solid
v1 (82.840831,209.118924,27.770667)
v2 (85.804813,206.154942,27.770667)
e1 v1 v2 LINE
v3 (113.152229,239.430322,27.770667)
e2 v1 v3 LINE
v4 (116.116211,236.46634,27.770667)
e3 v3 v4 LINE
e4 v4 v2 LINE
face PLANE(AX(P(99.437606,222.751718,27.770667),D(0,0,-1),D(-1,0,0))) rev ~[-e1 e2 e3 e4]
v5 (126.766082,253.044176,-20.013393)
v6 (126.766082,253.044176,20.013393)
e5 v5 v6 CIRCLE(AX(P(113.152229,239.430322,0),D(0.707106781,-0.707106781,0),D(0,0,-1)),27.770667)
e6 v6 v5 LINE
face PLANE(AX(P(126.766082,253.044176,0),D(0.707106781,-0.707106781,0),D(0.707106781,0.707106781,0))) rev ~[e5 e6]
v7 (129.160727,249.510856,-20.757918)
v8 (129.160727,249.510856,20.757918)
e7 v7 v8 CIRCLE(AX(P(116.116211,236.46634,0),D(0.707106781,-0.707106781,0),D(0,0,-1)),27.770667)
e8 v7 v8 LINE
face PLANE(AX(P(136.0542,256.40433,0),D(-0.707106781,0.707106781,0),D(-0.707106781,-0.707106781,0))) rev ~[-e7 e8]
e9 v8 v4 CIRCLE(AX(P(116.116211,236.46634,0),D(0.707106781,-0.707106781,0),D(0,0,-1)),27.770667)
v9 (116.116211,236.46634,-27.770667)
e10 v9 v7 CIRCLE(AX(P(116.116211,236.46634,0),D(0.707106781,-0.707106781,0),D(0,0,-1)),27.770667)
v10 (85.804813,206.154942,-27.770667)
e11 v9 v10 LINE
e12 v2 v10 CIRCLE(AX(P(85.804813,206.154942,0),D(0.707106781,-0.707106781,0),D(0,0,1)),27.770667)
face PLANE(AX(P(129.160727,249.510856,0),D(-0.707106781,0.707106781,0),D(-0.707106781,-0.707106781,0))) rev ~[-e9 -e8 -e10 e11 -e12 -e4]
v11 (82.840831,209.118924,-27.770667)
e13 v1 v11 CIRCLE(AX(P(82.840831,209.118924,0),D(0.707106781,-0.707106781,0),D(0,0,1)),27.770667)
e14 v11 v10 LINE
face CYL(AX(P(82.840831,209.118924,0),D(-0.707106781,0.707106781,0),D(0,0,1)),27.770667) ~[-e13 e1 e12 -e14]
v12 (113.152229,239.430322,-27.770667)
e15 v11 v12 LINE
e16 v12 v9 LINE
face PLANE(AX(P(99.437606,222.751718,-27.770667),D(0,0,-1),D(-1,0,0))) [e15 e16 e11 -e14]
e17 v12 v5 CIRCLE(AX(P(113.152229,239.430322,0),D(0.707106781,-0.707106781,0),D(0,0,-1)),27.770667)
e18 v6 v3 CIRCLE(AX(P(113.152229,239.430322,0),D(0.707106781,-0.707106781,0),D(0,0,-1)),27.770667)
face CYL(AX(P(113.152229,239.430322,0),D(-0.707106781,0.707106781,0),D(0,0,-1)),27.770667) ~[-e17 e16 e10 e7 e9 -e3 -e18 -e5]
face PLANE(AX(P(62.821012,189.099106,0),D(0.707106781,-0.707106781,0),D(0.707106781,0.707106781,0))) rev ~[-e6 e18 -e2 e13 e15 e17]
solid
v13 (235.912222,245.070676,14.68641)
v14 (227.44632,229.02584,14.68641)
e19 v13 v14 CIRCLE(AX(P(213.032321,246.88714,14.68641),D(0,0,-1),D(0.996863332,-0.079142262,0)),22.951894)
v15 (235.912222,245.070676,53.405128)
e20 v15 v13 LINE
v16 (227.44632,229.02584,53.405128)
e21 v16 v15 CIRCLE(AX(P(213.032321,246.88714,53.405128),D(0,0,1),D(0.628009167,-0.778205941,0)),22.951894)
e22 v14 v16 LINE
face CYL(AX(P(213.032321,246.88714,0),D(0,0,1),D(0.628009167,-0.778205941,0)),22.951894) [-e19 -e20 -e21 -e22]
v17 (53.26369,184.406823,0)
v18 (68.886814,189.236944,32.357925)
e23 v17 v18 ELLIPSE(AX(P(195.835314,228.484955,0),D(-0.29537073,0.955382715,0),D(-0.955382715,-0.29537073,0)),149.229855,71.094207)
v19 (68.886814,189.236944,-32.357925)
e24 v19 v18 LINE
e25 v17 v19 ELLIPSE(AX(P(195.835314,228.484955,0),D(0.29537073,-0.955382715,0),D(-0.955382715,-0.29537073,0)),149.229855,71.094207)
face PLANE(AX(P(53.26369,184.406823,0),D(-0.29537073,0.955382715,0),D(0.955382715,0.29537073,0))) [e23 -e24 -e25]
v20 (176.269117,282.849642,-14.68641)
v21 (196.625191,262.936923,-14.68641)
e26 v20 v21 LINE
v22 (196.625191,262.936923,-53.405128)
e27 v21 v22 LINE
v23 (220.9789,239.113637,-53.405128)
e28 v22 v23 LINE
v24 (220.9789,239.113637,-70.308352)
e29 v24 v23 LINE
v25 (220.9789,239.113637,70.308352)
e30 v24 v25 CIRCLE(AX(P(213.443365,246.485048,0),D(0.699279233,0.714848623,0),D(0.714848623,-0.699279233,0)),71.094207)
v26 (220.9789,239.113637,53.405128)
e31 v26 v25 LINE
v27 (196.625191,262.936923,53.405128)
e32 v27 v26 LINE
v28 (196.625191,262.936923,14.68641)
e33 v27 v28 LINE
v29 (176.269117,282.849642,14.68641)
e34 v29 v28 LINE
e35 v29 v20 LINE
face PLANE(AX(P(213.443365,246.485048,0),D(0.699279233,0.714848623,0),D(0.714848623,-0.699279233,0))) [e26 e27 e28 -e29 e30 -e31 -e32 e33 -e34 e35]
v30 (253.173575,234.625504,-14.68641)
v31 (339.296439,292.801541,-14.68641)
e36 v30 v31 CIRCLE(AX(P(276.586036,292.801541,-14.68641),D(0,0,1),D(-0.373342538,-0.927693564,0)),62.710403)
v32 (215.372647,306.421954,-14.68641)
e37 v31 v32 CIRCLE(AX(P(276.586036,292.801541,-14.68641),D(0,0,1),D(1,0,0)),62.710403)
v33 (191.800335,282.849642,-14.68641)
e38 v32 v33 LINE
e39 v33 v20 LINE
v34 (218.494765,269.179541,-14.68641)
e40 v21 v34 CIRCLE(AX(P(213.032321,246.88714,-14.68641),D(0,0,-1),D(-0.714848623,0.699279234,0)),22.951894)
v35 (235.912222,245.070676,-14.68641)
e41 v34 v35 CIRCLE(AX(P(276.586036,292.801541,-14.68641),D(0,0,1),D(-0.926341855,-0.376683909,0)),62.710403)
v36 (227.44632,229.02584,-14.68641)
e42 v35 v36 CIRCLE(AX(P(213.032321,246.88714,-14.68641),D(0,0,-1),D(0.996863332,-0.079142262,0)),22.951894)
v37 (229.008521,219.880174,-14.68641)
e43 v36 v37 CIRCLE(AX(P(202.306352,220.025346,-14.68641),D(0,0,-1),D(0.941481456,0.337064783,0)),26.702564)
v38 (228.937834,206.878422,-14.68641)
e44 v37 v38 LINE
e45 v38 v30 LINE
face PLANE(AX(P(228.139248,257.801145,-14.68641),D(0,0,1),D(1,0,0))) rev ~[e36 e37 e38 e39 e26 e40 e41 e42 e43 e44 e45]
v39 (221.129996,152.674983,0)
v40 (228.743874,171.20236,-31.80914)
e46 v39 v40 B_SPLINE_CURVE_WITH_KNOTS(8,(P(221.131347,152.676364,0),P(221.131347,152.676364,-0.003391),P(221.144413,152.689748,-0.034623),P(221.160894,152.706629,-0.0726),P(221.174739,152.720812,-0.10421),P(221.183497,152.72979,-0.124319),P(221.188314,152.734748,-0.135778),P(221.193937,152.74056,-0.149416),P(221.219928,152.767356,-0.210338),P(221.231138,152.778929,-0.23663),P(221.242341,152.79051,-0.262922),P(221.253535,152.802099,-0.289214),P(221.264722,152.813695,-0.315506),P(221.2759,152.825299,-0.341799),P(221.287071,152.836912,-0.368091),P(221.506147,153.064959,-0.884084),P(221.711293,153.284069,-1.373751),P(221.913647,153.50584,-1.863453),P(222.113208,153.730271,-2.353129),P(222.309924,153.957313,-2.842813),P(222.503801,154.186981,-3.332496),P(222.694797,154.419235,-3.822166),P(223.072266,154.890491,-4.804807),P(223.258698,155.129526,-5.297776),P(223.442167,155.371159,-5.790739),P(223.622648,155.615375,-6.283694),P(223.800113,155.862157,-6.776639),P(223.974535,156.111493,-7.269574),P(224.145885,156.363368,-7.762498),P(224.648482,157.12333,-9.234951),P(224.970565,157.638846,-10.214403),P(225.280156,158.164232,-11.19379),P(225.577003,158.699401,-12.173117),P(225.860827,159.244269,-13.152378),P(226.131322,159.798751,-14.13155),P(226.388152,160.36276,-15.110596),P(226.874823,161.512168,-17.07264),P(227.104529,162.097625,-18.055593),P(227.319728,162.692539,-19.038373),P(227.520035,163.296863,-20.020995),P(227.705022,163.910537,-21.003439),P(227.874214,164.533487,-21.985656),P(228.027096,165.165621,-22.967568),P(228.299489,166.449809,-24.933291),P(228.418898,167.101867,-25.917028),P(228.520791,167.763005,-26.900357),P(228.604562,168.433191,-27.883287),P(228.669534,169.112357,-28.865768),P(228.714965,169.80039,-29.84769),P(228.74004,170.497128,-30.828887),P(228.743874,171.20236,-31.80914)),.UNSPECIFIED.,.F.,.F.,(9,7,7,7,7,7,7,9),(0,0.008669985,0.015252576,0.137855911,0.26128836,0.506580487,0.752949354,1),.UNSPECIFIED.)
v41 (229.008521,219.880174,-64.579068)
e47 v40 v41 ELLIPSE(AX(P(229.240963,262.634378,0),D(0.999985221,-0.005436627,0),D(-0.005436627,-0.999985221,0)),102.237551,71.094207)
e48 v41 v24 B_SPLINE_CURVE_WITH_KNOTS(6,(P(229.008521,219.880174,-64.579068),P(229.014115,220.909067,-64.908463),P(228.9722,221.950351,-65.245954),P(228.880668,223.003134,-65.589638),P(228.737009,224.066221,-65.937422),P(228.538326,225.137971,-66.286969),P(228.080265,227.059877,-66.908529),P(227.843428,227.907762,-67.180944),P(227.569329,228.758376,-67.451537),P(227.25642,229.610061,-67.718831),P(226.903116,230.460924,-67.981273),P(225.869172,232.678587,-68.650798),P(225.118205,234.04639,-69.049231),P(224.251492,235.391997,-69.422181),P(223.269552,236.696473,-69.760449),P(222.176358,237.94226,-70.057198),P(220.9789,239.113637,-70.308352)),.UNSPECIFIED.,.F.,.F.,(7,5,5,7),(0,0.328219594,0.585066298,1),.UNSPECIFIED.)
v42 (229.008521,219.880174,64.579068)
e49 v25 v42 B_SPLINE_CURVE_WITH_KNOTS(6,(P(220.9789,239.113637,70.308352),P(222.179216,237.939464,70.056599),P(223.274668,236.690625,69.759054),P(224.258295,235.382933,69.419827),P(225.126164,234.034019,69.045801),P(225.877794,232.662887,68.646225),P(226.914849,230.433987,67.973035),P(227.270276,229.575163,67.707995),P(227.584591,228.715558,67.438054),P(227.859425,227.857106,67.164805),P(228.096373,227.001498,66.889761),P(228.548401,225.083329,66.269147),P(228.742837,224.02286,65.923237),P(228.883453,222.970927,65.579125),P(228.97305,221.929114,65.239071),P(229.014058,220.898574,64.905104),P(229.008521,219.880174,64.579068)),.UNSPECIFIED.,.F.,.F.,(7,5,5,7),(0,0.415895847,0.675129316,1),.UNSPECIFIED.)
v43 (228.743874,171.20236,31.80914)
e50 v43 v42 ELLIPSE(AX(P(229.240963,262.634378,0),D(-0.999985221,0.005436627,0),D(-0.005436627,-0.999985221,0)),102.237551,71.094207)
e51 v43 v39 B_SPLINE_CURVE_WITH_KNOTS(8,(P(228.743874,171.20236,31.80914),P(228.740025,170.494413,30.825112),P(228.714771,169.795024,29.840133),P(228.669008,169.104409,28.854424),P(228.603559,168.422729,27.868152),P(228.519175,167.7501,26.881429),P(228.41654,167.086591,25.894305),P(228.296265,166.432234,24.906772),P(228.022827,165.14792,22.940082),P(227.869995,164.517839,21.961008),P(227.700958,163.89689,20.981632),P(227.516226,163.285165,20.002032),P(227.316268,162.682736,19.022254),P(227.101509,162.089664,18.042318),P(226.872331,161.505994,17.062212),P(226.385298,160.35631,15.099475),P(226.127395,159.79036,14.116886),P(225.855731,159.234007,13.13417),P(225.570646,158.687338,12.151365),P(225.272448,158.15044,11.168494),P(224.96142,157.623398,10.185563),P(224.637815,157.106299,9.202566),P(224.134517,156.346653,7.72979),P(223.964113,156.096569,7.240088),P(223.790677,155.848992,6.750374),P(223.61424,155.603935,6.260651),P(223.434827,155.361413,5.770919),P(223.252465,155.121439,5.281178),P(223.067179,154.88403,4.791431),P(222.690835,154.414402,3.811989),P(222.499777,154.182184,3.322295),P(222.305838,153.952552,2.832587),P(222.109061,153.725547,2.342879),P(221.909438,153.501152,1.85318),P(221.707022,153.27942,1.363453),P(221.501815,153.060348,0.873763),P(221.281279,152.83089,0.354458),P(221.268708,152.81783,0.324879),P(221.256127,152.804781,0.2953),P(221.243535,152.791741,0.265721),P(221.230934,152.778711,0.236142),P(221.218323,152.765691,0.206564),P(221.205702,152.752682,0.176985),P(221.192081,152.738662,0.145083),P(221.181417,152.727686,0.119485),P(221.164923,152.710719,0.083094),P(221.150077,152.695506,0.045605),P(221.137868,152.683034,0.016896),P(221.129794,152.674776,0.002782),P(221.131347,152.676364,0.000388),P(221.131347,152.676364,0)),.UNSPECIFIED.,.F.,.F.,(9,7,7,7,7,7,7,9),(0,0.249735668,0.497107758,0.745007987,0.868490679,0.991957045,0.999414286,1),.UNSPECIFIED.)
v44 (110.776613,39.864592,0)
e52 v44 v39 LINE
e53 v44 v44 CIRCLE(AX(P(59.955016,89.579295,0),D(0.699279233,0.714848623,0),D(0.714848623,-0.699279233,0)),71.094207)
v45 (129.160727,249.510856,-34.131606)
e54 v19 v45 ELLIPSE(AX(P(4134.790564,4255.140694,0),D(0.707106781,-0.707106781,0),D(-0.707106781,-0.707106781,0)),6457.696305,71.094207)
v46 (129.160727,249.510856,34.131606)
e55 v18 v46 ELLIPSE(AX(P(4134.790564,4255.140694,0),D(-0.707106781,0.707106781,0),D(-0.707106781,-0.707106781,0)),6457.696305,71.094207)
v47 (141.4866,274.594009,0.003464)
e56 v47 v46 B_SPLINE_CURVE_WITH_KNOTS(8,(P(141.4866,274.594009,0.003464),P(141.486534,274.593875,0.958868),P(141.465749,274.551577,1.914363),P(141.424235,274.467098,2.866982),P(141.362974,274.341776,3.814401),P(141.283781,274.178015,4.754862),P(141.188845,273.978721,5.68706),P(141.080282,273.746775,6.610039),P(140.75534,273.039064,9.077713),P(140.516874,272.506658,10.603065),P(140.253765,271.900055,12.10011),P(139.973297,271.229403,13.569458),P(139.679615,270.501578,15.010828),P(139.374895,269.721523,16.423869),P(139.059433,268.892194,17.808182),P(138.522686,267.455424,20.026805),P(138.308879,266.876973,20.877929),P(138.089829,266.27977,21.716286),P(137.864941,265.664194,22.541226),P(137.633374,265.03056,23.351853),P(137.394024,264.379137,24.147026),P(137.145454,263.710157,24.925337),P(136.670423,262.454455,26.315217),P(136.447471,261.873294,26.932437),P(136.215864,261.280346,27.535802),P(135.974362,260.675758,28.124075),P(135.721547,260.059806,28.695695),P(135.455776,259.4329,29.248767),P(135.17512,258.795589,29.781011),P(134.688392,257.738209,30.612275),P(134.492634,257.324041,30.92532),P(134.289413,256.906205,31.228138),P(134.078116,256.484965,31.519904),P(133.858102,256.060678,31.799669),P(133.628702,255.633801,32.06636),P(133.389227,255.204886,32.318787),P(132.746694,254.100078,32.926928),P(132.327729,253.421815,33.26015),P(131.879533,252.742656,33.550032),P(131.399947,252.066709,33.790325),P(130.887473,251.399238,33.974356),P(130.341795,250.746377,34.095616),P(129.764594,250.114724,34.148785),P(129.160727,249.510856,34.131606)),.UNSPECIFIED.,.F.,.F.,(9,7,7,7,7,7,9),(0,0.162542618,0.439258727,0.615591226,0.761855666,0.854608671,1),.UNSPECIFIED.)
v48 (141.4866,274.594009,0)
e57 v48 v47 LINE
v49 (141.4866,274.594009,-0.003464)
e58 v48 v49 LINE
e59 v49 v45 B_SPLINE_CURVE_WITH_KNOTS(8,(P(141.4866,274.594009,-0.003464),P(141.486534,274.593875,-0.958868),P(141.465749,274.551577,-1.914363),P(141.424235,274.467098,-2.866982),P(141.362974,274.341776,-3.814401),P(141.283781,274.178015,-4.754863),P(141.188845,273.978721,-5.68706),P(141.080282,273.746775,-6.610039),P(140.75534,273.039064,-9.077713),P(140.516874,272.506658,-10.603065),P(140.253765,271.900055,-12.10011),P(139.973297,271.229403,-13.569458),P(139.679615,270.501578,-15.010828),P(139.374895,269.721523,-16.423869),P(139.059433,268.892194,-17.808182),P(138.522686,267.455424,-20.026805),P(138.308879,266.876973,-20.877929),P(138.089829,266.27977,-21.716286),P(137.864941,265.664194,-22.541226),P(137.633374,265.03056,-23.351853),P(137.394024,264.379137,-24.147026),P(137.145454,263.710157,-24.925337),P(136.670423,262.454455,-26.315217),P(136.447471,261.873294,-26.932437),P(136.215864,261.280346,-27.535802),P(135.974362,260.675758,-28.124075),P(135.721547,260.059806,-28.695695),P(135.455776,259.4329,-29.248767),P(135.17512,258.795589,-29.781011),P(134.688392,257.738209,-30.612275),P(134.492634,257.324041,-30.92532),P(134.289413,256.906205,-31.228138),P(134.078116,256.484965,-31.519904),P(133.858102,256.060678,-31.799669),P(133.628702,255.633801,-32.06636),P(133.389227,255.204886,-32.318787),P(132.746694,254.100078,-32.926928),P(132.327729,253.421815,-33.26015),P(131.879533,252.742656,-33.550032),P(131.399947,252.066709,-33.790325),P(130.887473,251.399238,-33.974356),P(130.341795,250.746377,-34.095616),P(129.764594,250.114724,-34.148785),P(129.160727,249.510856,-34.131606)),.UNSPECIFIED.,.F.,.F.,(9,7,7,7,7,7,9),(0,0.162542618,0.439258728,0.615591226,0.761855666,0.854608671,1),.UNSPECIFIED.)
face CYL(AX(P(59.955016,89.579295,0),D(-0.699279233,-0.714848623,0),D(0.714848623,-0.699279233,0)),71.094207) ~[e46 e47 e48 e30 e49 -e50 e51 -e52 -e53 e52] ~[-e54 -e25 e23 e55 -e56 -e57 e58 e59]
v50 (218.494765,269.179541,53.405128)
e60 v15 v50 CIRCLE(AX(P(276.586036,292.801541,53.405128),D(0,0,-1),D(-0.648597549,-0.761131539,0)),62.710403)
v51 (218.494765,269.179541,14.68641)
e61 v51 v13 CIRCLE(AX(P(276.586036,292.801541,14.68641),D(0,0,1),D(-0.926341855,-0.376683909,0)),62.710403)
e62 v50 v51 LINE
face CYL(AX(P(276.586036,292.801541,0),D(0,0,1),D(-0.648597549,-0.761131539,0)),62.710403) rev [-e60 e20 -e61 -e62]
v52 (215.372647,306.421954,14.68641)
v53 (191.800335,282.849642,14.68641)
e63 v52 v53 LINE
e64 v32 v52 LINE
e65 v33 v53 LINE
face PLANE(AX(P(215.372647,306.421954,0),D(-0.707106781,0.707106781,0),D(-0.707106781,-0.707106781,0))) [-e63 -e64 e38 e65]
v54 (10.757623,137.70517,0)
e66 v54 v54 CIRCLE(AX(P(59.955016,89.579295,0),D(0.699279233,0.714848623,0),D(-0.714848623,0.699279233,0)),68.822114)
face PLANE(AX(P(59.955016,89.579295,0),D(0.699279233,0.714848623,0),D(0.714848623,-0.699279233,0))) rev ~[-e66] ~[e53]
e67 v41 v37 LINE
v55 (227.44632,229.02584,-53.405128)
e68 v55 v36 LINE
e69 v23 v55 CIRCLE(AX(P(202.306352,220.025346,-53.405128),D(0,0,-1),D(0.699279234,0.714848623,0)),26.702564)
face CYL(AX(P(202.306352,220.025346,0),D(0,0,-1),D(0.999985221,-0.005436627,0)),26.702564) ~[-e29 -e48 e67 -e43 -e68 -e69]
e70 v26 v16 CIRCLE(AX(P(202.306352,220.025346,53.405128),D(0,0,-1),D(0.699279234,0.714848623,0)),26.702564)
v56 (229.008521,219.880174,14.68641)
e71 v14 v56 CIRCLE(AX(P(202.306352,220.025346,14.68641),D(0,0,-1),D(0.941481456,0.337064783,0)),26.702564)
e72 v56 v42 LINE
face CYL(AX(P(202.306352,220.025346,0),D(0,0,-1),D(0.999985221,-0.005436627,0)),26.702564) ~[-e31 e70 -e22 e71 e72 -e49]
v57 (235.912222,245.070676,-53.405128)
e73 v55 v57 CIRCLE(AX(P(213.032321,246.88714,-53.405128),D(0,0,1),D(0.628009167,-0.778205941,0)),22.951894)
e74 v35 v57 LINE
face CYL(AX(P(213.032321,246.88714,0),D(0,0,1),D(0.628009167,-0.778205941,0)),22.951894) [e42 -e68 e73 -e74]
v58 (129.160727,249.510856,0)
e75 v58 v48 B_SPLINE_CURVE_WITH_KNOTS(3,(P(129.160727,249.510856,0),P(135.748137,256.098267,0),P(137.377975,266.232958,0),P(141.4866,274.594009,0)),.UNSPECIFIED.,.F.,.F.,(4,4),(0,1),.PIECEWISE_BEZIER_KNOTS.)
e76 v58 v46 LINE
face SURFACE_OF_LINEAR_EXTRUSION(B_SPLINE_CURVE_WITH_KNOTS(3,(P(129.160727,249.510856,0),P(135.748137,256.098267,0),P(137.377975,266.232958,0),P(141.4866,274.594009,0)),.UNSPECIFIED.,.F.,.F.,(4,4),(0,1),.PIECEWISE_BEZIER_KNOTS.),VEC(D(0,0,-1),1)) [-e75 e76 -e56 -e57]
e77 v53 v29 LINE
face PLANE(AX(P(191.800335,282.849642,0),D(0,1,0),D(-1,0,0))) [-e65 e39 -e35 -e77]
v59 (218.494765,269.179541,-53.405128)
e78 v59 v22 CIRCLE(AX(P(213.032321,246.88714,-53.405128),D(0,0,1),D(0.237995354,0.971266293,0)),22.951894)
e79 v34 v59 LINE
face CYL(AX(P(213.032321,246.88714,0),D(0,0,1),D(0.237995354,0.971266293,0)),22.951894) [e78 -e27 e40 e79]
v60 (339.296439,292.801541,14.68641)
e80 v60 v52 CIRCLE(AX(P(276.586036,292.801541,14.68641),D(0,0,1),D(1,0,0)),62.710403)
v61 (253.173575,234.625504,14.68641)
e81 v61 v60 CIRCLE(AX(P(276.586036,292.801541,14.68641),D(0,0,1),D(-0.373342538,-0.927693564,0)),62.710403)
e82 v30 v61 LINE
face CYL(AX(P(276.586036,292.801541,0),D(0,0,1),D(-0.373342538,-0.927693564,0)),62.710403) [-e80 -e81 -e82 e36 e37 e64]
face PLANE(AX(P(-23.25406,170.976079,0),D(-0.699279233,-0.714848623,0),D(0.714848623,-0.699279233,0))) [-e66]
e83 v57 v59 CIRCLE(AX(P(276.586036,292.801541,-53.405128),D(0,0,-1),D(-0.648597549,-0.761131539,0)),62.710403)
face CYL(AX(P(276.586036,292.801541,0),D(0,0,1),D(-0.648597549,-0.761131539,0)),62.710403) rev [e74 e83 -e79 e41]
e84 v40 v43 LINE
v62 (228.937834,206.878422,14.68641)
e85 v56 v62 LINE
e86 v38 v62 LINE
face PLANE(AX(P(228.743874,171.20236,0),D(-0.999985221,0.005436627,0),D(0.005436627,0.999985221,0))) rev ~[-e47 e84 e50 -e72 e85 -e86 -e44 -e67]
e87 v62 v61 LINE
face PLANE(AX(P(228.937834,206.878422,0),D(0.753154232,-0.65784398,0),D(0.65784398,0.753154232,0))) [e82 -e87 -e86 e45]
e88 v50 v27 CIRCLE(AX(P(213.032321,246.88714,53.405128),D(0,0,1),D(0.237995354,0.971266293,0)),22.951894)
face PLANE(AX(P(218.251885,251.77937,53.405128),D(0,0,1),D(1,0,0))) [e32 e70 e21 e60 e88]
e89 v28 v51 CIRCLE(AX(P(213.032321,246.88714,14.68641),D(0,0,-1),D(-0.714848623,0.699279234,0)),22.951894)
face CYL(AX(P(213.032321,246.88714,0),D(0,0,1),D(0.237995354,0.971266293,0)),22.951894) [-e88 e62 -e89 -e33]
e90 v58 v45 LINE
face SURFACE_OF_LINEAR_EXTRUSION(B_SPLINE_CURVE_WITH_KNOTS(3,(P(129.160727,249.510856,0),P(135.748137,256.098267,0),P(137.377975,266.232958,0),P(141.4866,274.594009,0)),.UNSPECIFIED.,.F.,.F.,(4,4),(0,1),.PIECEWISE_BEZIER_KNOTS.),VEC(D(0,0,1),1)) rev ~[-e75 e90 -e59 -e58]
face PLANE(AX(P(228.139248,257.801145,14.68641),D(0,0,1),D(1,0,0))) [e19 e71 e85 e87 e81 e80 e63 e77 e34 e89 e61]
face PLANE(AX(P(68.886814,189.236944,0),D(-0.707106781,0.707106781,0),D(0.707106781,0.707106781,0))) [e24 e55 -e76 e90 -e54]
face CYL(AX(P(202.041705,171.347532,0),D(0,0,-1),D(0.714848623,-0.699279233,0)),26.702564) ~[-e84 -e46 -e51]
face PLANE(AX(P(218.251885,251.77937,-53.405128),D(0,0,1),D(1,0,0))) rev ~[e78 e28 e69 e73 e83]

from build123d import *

# Parameters (mm, degrees)
SKETCH2_R               = 34.7138244
BOSS_EXTRUDE1_DEPTH     = 43.3659661
FILLET1_R               = 2.54
SKETCH4_R               = 34.7138244
CUT_EXTRUDE1_DEPTH      = 6.985
SKETCH5_R               = 33.813098677
BOSS_EXTRUDE2_DEPTH     = 104.394
CUT_EXTRUDE2_DEPTH      = 44.3659661
CUT_EXTRUDE2_DEPTH_BACK = 44.3659662
BOSS_EXTRUDE3_DEPTH     = 13.208
BOSS_EXTRUDE6_DEPTH     = 25.4
BOSS_EXTRUDE7_DEPTH     = 6.985
CUT_EXTRUDE3_DEPTH      = 44.3659661
CUT_EXTRUDE3_DEPTH_BACK = 44.3659662
CUT_EXTRUDE6_DEPTH      = 1.993615
SCALE2_SCALE            = 2.1025641


with BuildPart() as part:
    # Sketch2 → Boss-Extrude1 (new body, symmetric)
    with BuildSketch(Plane.XY):
        with Locations((-4.885886043, 8.460037767)):
            Circle(SKETCH2_R)
    extrude(amount=BOSS_EXTRUDE1_DEPTH, both=True)

    # Sketch3 → Revolve1 (revolve)
    with BuildSketch(Plane.XY):
        with BuildLine():
            Line((22.617188767, -2.954559536), (39.991940689, 15.756711766))
            ThreePointArc((39.991940689, 15.756711766), (40.875583615, 16.161668708), (41.78676132, 15.823186604))
            Line((41.78676132, 15.823186604), (42.898157249, 14.791176098))
            Line((42.898157249, 14.791176098), (48.074161234, 14.791176098))
            ThreePointArc((48.074161234, 14.791176098), (48.566620636, 14.890542194), (48.982018985, 15.173091472))
            Line((48.982018985, 15.173091472), (52.064778569, 18.324488421))
            Line((52.064778569, 18.324488421), (51.292291814, 19.080150428))
            Line((51.292291814, 19.080150428), (51.913951053, 19.715650854))
            Line((51.913951053, 19.715650854), (28.515190783, 42.604786571))
            Line((28.515190783, 42.604786571), (2.85696712, 16.37528486))
            Line((2.85696712, 16.37528486), (22.617188767, -2.954559536))
        make_face()
    revolve(axis=Axis((2.85696712, 16.37528486, 0), (0.699279233, 0.714848623, 0)))

    # Fillet1
    fillet1_edges = [part.edges().sort_by_distance(p)[0] for p in [
        (-39.599710443, 8.460037767, 43.3659661),
    ]]
    fillet(fillet1_edges, radius=FILLET1_R)

    # Sketch4 → Cut-Extrude1 (cut, symmetric)
    with BuildSketch(Plane.XY):
        with Locations((-4.885886043, 8.460037767)):
            Circle(SKETCH4_R)
    extrude(amount=CUT_EXTRUDE1_DEPTH, both=True, mode=Mode.SUBTRACT)

    # Sketch5 → Boss-Extrude2 (add)
    with BuildSketch(Plane(origin=(35.240913845, 36.025549629, 0), x_dir=(0.714848623, -0.699279233, 0), z_dir=(0.699279233, 0.714848623, 0))):
        with Locations((-9.408597634, 0)):
            Circle(SKETCH5_R)
    extrude(amount=BOSS_EXTRUDE2_DEPTH)

    # Sketch6 → Cut-Extrude2 (cut, two sides)
    with BuildSketch(Plane.XY) as cut_extrude2_sk:
        with BuildLine():
            Line((67.292407195, 130.59958962), (25.332730461, 87.705684449))
            Line((25.332730461, 87.705684449), (32.763241022, 90.002936951))
            Line((32.763241022, 90.002936951), (61.430101704, 118.669797633))
            add(Edge.make_bspline(
                [(61.430101704, 118.669797633), (64.563138592, 121.802834521), (65.338305365, 126.622992291), (67.292407195, 130.59958962)],
                knots=[0, 0, 0, 0, 1, 1, 1, 1], degree=3))
        make_face()
        with BuildLine():
            Line((108.792818243, 81.425512643), (108.918686949, 104.5771561))
            ThreePointArc((108.918686949, 104.5771561), (107.938557068, 109.538955465), (105.099720902, 113.72477877))
            Line((105.099720902, 113.72477877), (125.686994108, 93.585895982))
            Line((125.686994108, 93.585895982), (105.171583442, 72.613711538))
            ThreePointArc((105.171583442, 72.613711538), (107.839772529, 76.66719056), (108.792818243, 81.425512643))
        make_face()
    extrude(amount=CUT_EXTRUDE2_DEPTH, mode=Mode.SUBTRACT)
    extrude(cut_extrude2_sk.sketch, amount=-CUT_EXTRUDE2_DEPTH_BACK, mode=Mode.SUBTRACT)

    # Sketch12 → Boss-Extrude6 (add, symmetric)
    with BuildSketch(Plane.XY):
        with BuildLine():
            Line((93.516859048, 125.055366113), (105.099720902, 113.72477877))
            ThreePointArc((105.099720902, 113.72477877), (106.910314157, 111.50062472), (108.175689127, 108.926924007))
            ThreePointArc((108.175689127, 108.926924007), (110.974870017, 112.327766266), (112.202154604, 116.558004353))
            ThreePointArc((112.202154604, 116.558004353), (107.370575878, 121.792992409), (103.918241878, 128.024416235))
            ThreePointArc((103.918241878, 128.024416235), (98.323942367, 127.918806427), (93.516859048, 125.055366113))
        make_face()
    extrude(amount=BOSS_EXTRUDE6_DEPTH, both=True)

    # Sketch12<3> → Boss-Extrude7 (add, symmetric)
    with BuildSketch(Plane.XY):
        with BuildLine():
            ThreePointArc((112.202154604, 116.558004353), (110.168783957, 123.814558681), (103.918241878, 128.024416235))
            ThreePointArc((103.918241878, 128.024416235), (107.370575878, 121.792992409), (112.202154604, 116.558004353))
        make_face()
        with BuildLine():
            ThreePointArc((102.433332077, 145.737270979), (101.825593785, 136.767653772), (103.918241878, 128.024416235))
            ThreePointArc((103.918241878, 128.024416235), (110.168783957, 123.814558681), (112.202154604, 116.558004353))
            ThreePointArc((112.202154604, 116.558004353), (116.105893598, 113.74176866), (120.411822358, 111.590178756))
            ThreePointArc((120.411822358, 111.590178756), (148.242172435, 114.54403237), (161.372696963, 139.259269819))
            ThreePointArc((161.372696963, 139.259269819), (134.805522913, 168.906416529), (102.433332077, 145.737270979))
        make_face()
        with BuildLine():
            Line((83.835311865, 134.526049383), (93.516859048, 125.055366113))
            ThreePointArc((93.516859048, 125.055366113), (98.323942367, 127.918806427), (103.918241878, 128.024416235))
            ThreePointArc((103.918241878, 128.024416235), (101.825593785, 136.767653772), (102.433332077, 145.737270979))
            Line((102.433332077, 145.737270979), (91.222110481, 134.526049383))
            Line((91.222110481, 134.526049383), (83.835311865, 134.526049383))
        make_face()
        with BuildLine():
            ThreePointArc((112.202154604, 116.558004353), (110.974870017, 112.327766266), (108.175689127, 108.926924007))
            ThreePointArc((108.175689127, 108.926924007), (108.737557935, 106.784557747), (108.918686949, 104.5771561))
            Line((108.918686949, 104.5771561), (108.885067656, 98.393396013))
            Line((108.885067656, 98.393396013), (120.411822358, 111.590178756))
            ThreePointArc((120.411822358, 111.590178756), (116.105893598, 113.74176866), (112.202154604, 116.558004353))
        make_face()
    extrude(amount=BOSS_EXTRUDE7_DEPTH, both=True)

    # Sketch13 → Cut-Extrude3 (cut, two sides)
    with BuildSketch(Plane.XY) as cut_extrude3_sk:
        Polygon((-11.059857652, 81.317891206), (67.08361219, 4.876384648), (-5.062145194, -68.87569155), (-83.205615037, 7.565815008), align=None)
    extrude(amount=CUT_EXTRUDE3_DEPTH, mode=Mode.SUBTRACT)
    extrude(cut_extrude3_sk.sketch, amount=-CUT_EXTRUDE3_DEPTH_BACK, mode=Mode.SUBTRACT)


with BuildPart() as body_2:
    # Sketch8 → Boss-Extrude3 (new body, symmetric)
    with BuildSketch(Plane.XY):
        Polygon((31.287985123, 88.527681052), (29.878286463, 89.937379712), (60.29118565, 120.350278899), (63.299006413, 123.358099663), (64.708705073, 121.948401003), (61.430101704, 118.669797633), align=None)
    extrude(amount=BOSS_EXTRUDE3_DEPTH, both=True)

    # Sketch15 → Cut-Extrude6 (cut)
    with BuildSketch(Plane(origin=(-30.029546625, 30.029546625, 0), x_dir=(0, 0, 1), z_dir=(-0.707106781, 0.707106781, 0))):
        with BuildLine():
            ThreePointArc((13.208, 98.188075554), (0, 84.980075554), (-13.208, 98.188075554))
            Line((-13.208, 98.188075554), (-13.208, 84.722470044))
            Line((-13.208, 84.722470044), (13.208, 84.722470044))
            Line((13.208, 84.722470044), (13.208, 98.188075554))
        make_face()
        with BuildLine():
            Line((13.208, 131.986505463), (-13.208, 131.986505463))
            Line((-13.208, 131.986505463), (-13.208, 127.349860112))
            Line((-13.208, 127.349860112), (-13.208, 118.57593923))
            ThreePointArc((-13.208, 118.57593923), (0, 131.78393923), (13.208, 118.57593923))
            Line((13.208, 118.57593923), (13.208, 131.986505463))
        make_face()
    extrude(amount=-CUT_EXTRUDE6_DEPTH, mode=Mode.SUBTRACT)


with BuildPart() as body_2_1:
    # Scale2: scaled about (0, 0, 0)
    add(body_2.part.scale(SCALE2_SCALE))


with BuildPart() as part_1:
    # Scale2: scaled about (0, 0, 0)
    add(part.part.scale(SCALE2_SCALE))


solid = Compound([body_2_1.part, part_1.part])
